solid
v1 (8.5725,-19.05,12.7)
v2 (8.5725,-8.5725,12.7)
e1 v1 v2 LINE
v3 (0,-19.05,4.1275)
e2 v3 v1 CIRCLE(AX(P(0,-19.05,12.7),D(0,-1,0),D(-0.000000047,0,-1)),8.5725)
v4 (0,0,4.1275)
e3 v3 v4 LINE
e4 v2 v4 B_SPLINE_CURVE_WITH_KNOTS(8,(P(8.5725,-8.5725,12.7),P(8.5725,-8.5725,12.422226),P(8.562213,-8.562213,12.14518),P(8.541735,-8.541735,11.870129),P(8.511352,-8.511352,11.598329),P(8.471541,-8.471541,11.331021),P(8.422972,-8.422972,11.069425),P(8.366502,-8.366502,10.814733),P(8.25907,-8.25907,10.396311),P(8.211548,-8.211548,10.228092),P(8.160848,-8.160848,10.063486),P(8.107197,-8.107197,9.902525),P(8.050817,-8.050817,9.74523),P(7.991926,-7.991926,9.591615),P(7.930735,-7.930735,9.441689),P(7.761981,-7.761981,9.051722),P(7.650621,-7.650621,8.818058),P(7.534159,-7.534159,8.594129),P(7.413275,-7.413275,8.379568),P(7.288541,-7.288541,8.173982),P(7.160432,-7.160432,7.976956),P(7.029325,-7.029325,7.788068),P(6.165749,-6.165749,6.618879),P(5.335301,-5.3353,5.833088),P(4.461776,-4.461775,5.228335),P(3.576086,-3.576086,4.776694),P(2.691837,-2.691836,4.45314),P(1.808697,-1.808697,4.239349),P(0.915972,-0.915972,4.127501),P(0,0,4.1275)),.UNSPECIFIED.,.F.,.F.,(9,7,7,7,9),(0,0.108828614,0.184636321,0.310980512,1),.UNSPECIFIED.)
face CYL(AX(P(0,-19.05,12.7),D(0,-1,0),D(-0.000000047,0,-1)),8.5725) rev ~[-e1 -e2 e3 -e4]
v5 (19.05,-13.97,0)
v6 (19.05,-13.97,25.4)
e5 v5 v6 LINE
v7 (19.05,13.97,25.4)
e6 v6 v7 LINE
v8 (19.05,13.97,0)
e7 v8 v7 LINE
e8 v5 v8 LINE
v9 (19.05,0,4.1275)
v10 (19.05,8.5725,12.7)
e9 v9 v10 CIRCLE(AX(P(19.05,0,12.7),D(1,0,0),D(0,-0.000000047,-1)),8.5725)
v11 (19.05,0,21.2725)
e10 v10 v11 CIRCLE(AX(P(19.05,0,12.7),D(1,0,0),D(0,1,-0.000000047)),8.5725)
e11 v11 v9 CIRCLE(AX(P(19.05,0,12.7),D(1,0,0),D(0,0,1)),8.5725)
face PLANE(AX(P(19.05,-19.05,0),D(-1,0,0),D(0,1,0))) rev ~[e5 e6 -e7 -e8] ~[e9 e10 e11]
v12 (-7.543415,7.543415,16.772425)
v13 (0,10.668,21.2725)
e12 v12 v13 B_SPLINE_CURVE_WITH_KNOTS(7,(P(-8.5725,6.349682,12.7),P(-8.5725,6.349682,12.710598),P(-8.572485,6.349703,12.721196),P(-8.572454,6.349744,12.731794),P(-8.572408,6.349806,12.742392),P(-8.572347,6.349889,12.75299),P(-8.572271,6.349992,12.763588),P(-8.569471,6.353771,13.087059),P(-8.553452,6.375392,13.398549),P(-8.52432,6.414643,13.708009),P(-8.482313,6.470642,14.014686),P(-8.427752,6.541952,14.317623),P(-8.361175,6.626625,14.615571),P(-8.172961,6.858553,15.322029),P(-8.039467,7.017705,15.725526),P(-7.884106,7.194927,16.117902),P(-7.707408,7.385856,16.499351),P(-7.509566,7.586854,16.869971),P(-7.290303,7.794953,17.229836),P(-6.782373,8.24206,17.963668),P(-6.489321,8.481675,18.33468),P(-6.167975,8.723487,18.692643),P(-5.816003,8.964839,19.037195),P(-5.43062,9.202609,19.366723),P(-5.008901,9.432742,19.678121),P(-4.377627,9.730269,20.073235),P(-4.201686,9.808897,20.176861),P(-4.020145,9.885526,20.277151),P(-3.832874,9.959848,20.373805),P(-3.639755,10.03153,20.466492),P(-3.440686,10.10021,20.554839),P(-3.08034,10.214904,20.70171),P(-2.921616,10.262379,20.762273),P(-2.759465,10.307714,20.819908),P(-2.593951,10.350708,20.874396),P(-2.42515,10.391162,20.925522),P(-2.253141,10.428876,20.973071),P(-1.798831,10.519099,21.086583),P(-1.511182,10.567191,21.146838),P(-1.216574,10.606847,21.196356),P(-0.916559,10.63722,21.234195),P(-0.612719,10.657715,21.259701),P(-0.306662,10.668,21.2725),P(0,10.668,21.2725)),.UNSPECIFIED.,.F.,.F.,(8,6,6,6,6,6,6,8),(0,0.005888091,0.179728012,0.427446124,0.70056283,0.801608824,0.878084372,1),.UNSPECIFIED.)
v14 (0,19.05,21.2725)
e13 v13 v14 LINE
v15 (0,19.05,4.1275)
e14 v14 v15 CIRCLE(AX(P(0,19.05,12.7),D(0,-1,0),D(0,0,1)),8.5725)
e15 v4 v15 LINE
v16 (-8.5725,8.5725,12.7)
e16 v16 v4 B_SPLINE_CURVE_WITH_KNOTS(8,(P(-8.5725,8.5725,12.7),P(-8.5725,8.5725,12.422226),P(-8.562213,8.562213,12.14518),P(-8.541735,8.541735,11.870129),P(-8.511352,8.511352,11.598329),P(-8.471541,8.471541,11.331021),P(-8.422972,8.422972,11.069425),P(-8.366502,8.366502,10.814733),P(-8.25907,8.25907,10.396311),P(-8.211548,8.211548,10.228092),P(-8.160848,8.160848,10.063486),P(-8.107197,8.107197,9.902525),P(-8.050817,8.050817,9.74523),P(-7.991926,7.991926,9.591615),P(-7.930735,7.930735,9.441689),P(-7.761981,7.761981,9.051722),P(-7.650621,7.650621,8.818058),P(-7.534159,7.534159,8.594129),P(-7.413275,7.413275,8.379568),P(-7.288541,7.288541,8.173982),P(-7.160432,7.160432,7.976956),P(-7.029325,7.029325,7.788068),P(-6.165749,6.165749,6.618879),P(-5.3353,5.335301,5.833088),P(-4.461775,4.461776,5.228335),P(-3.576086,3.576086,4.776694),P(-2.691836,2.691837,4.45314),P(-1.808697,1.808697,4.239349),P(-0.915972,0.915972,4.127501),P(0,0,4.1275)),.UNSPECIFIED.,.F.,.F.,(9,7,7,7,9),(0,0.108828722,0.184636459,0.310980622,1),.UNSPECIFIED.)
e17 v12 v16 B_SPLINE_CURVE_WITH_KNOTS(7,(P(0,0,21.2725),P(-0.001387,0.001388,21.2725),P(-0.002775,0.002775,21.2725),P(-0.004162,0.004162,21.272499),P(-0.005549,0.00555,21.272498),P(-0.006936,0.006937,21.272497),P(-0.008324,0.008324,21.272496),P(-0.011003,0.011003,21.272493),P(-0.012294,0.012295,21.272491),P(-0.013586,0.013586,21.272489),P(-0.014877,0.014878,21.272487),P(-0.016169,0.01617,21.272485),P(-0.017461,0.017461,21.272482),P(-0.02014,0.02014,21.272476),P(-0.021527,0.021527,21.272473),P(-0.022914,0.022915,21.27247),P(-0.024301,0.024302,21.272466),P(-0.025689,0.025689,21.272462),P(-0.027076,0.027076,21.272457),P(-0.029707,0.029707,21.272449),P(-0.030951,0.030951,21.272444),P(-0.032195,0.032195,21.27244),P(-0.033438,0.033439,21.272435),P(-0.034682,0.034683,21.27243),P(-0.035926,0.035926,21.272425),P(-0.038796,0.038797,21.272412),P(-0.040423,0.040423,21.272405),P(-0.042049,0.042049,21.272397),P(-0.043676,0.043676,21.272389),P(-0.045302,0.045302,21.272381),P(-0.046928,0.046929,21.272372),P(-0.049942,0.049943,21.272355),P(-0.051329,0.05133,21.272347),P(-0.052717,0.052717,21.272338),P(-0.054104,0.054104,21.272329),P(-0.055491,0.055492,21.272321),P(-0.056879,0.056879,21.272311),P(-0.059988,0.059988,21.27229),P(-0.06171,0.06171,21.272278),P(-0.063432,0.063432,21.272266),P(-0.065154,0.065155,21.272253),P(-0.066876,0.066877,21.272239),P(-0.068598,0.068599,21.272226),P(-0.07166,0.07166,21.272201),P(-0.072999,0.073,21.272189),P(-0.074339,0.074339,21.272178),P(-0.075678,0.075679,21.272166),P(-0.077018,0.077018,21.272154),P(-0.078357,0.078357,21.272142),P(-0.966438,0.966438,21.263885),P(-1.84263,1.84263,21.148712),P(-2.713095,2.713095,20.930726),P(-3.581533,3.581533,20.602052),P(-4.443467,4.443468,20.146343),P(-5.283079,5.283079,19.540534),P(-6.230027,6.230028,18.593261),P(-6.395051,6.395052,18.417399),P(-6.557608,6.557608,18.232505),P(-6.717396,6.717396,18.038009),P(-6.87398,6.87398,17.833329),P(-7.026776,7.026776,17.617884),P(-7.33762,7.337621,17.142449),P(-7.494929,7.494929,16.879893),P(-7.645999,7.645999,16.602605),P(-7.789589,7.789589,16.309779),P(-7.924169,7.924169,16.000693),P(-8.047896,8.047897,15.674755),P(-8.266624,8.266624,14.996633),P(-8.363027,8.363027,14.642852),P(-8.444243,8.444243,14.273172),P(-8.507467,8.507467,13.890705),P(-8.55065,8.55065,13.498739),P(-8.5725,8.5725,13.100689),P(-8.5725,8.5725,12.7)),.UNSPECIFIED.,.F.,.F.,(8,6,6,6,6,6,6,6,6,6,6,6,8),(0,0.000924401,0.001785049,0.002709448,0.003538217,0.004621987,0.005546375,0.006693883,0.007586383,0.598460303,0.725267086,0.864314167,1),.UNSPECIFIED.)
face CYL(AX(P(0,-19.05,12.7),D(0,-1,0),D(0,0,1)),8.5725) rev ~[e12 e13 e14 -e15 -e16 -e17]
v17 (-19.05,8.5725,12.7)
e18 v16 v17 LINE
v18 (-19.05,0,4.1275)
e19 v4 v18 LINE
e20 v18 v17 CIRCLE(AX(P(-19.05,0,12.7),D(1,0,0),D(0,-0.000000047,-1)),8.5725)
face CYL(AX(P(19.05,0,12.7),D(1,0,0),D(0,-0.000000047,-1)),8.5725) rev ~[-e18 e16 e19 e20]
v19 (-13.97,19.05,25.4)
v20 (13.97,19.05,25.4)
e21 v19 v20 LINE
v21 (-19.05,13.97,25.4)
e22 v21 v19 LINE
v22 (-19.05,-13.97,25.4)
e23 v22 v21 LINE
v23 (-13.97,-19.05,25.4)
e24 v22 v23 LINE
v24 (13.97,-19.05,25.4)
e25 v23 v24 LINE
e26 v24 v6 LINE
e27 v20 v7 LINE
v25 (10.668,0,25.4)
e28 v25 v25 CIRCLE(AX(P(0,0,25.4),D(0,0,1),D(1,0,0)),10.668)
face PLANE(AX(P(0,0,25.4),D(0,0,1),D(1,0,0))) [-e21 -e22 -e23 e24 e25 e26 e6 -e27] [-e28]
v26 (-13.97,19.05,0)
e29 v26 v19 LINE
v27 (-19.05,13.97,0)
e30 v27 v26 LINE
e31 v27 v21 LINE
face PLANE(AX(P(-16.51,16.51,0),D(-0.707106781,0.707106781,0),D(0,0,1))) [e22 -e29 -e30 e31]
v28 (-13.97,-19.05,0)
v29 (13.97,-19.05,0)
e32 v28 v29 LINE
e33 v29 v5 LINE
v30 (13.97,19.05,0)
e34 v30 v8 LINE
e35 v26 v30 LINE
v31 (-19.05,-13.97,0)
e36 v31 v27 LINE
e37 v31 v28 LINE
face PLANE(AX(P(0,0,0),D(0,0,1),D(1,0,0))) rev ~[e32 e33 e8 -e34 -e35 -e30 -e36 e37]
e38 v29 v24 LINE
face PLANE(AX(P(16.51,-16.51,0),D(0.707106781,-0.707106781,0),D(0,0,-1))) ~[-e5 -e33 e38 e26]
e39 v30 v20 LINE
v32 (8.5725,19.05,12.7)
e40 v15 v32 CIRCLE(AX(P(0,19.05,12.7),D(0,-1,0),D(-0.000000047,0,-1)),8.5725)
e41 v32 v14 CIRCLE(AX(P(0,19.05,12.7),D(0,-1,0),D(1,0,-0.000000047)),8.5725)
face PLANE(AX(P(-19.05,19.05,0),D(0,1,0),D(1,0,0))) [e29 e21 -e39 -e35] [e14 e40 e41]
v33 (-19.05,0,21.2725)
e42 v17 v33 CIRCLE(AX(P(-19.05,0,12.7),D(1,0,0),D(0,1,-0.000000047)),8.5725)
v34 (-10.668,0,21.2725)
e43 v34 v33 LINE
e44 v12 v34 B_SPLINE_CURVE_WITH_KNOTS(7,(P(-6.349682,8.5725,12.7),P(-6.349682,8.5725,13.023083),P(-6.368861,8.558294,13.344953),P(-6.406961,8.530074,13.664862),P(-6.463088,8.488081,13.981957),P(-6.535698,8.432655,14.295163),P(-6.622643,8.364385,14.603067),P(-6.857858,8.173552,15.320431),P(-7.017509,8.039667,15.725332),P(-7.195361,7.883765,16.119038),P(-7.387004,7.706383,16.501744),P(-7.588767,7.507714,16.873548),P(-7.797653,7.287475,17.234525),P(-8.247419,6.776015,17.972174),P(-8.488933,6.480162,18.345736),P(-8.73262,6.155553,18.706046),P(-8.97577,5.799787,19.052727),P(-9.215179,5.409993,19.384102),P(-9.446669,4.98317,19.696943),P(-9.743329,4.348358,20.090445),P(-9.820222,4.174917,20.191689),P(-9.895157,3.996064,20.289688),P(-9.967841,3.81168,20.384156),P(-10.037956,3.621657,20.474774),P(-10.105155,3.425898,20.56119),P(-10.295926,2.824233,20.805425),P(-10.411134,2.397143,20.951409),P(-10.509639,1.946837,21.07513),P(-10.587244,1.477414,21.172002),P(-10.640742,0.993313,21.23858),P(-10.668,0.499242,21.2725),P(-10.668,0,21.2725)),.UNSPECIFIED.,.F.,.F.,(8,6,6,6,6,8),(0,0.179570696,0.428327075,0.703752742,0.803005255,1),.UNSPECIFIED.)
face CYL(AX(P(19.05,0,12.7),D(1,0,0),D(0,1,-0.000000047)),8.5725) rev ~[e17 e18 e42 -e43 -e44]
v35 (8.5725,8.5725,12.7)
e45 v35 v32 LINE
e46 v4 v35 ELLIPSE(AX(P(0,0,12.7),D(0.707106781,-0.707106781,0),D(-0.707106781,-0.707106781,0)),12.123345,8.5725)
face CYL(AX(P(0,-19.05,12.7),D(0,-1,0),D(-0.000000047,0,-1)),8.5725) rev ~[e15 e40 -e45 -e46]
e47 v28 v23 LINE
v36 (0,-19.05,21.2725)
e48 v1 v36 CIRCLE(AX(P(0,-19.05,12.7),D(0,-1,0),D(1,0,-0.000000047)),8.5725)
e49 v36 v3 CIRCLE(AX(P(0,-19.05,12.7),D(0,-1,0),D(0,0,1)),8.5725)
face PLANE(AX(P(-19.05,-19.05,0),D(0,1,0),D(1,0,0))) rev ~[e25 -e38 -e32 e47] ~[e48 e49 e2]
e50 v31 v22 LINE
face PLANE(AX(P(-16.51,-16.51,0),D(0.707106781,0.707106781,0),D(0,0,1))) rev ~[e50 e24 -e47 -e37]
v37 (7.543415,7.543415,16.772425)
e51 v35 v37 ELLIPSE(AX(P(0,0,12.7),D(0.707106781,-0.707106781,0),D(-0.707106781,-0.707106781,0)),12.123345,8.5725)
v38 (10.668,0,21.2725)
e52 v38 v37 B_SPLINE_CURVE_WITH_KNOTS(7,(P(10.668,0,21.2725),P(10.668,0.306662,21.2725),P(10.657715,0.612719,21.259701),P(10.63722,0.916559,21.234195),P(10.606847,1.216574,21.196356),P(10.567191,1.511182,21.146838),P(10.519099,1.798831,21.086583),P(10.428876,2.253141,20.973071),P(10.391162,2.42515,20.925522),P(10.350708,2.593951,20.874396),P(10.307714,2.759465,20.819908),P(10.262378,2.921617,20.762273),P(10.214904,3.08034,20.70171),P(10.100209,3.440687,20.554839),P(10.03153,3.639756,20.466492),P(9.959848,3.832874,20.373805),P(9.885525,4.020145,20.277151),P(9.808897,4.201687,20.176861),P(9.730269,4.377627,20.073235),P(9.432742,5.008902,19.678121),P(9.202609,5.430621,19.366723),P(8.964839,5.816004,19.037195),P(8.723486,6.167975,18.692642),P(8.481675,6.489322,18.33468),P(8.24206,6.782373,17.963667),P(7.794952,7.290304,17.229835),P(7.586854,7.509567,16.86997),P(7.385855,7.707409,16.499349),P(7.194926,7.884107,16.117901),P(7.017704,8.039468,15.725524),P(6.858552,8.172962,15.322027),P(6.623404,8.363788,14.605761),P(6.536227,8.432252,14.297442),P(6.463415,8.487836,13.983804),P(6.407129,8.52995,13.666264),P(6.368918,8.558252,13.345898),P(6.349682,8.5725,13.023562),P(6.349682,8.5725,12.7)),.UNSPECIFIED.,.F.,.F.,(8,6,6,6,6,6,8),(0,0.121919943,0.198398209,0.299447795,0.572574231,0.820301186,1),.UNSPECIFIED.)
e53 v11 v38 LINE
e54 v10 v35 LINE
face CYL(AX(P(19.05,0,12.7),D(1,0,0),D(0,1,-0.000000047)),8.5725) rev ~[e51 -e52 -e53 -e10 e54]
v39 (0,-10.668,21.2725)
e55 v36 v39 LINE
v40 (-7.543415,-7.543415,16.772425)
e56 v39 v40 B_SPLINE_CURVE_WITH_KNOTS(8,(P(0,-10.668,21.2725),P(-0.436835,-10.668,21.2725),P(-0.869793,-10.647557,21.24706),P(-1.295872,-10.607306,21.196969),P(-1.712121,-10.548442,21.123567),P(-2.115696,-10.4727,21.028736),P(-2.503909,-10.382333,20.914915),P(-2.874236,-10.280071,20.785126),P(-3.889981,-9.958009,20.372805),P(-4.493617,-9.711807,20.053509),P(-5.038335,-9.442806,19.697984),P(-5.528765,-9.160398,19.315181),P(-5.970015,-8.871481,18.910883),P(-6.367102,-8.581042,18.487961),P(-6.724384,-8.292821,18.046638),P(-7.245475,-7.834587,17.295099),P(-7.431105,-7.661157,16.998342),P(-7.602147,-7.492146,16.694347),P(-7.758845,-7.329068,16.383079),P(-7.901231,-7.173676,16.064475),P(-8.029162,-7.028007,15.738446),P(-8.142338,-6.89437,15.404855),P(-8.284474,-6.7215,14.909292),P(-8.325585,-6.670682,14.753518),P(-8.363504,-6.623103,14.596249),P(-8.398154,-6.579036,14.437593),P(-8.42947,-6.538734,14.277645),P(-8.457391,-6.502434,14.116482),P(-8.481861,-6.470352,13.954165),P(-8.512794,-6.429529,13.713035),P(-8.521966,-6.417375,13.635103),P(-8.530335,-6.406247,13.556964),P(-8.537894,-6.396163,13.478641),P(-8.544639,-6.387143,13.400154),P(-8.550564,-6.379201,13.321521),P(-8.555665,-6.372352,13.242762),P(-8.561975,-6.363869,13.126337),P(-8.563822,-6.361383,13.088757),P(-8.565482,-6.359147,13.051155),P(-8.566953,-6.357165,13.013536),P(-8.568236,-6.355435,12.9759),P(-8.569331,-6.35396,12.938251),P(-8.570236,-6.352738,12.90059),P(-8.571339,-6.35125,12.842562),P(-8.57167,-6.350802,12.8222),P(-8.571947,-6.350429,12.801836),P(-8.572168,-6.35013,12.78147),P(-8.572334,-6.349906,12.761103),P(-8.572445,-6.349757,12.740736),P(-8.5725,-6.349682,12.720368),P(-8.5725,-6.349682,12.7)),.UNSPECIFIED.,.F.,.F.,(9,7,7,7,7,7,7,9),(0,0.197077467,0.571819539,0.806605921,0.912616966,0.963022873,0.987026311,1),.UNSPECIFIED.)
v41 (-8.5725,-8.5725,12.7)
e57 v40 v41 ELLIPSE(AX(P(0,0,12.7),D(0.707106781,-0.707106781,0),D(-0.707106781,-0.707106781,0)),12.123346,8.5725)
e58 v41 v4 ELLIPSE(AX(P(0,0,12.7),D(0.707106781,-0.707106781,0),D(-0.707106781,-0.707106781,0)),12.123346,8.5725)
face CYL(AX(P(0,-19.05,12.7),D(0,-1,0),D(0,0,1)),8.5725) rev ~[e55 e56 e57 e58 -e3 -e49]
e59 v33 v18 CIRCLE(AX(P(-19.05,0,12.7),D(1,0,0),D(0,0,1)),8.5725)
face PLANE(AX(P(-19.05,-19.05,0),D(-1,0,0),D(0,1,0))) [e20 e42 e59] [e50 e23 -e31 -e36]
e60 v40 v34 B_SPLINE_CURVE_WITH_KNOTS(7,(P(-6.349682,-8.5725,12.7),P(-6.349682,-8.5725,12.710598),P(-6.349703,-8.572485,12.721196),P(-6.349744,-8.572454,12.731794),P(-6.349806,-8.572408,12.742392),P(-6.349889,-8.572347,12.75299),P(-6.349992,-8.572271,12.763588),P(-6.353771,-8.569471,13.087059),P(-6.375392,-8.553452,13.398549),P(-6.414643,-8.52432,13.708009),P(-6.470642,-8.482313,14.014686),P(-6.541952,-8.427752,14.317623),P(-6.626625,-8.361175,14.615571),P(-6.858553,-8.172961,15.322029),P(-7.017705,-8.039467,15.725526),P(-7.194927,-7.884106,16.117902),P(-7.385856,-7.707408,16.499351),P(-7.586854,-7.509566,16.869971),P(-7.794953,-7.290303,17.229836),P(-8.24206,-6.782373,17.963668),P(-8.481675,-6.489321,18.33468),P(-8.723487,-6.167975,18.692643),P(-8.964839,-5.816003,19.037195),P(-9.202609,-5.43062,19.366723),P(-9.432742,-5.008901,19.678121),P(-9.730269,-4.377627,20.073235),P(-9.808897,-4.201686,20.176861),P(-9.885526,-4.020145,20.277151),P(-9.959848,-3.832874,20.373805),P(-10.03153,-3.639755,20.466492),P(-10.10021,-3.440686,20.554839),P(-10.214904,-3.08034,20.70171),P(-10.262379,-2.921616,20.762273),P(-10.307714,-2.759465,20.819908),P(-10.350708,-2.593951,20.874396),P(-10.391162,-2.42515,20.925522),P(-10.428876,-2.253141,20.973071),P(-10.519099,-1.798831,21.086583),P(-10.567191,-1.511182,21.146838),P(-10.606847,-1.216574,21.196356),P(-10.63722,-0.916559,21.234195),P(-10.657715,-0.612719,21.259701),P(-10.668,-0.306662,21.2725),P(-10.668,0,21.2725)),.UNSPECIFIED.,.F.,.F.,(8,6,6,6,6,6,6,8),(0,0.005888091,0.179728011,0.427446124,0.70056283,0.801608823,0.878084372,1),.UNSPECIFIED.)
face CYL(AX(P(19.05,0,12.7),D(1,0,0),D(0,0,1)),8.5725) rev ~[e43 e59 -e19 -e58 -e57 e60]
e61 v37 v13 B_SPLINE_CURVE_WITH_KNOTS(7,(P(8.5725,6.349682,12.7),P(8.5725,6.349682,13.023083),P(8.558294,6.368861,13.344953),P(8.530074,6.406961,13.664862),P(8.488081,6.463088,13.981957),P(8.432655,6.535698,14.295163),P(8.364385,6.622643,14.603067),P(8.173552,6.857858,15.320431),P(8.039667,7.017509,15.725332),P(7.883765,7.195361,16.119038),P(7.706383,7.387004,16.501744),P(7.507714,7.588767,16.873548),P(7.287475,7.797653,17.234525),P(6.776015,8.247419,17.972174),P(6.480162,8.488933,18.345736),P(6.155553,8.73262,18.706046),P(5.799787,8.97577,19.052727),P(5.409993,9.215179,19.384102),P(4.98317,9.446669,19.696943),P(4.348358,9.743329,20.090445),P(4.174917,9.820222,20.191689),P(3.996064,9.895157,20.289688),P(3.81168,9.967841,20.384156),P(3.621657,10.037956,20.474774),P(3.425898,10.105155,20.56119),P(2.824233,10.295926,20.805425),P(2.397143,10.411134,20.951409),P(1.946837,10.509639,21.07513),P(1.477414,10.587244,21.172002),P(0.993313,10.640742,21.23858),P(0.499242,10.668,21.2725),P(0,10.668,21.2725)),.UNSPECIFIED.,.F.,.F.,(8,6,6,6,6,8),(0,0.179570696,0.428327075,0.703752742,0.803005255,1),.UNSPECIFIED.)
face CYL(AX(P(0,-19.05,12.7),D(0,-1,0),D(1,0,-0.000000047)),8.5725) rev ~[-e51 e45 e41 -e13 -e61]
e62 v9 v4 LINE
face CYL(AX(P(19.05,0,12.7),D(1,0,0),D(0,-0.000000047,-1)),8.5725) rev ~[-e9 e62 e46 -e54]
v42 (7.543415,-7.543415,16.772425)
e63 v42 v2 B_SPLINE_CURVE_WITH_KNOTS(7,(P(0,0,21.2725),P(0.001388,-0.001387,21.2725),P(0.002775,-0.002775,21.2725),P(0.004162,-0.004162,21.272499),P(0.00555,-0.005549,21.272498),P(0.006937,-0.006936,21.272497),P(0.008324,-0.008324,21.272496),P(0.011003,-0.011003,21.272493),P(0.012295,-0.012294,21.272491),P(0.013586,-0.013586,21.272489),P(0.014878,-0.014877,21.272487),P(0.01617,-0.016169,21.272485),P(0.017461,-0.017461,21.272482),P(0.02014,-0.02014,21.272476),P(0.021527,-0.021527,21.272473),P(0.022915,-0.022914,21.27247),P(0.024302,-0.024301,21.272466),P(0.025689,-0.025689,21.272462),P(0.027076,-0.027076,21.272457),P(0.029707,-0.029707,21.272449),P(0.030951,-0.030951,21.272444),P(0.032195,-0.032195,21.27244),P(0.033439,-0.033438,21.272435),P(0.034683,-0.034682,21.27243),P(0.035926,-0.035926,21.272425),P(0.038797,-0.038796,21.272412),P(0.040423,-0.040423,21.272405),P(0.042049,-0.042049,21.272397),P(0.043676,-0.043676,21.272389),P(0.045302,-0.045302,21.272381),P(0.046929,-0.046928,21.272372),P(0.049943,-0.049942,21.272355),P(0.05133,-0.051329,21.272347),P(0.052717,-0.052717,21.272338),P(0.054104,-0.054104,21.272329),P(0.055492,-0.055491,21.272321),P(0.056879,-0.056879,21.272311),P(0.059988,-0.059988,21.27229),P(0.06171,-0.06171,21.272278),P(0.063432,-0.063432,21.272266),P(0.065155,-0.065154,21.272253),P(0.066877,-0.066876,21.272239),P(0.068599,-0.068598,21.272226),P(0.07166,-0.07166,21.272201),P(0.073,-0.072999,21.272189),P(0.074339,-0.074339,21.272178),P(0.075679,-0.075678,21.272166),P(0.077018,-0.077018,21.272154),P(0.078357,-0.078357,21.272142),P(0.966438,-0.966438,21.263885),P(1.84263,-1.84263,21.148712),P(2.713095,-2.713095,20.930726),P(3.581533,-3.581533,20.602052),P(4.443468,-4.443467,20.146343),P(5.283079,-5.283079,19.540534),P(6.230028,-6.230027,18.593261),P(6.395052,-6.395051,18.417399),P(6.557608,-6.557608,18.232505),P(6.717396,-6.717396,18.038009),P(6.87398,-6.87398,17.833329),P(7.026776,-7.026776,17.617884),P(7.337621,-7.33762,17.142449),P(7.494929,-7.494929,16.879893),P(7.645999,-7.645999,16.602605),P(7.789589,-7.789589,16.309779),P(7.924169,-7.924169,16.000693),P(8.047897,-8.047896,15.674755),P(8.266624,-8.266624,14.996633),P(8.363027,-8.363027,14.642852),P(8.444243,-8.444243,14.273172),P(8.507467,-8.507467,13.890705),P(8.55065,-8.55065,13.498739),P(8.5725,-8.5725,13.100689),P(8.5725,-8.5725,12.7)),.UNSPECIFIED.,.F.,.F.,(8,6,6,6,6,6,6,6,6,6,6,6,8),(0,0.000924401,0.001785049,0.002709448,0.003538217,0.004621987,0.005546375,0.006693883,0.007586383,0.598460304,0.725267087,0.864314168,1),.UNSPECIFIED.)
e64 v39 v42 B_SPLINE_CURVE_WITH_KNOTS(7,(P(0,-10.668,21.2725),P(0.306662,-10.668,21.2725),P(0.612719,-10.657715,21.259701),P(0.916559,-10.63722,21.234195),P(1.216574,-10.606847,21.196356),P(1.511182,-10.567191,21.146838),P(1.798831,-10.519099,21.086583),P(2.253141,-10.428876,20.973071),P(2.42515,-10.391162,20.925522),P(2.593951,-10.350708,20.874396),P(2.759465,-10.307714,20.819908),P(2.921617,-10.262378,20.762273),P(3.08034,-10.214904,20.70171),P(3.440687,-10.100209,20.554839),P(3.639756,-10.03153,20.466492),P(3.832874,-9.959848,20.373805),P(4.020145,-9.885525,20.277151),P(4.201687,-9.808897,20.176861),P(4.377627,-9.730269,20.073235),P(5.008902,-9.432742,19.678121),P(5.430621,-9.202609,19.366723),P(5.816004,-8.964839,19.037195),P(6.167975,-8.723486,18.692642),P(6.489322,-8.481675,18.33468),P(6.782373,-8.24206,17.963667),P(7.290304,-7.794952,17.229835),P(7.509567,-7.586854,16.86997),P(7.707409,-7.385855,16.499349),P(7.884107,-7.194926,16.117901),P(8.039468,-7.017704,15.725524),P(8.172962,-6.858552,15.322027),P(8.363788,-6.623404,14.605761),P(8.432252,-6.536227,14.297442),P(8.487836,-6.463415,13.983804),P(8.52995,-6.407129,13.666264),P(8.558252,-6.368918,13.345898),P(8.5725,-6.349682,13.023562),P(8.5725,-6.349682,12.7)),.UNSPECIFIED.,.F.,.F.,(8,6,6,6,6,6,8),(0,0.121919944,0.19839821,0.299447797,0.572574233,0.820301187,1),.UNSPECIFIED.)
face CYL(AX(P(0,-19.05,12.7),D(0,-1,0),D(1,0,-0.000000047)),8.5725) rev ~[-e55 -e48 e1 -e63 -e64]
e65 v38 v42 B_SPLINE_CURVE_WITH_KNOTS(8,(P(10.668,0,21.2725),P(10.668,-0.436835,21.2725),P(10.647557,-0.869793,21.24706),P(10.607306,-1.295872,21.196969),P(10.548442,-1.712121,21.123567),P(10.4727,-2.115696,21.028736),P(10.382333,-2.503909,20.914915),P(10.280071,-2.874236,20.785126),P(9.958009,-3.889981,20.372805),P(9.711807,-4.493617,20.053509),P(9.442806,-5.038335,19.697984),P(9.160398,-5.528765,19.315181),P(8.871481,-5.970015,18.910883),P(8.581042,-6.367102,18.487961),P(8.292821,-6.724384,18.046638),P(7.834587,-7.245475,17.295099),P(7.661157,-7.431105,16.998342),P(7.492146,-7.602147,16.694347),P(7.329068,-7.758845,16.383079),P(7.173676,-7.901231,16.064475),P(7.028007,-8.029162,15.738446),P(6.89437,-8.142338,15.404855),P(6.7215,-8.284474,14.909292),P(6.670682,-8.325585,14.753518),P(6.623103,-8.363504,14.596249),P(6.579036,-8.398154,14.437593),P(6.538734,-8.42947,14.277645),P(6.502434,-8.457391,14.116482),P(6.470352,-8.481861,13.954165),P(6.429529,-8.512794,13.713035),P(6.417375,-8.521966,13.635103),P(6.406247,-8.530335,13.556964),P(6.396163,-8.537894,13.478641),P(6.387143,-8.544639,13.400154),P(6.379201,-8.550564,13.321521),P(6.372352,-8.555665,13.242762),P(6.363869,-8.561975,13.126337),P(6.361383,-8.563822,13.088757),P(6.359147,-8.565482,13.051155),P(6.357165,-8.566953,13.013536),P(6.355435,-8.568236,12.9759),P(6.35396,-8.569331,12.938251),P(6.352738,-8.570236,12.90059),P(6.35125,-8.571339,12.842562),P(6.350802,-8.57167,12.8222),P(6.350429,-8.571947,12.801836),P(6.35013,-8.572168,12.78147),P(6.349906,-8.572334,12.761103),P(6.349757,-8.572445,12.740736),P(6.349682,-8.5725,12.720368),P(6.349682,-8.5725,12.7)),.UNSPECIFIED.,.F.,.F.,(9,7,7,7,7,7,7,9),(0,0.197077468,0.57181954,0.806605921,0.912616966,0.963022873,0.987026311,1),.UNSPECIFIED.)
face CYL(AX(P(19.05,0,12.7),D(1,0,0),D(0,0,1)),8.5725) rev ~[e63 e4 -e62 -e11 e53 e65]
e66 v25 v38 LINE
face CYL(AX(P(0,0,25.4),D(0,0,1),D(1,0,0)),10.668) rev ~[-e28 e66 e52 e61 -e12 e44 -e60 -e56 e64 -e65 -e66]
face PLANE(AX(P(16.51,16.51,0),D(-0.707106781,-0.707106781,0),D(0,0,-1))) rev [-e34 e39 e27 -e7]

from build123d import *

# Parameters (mm, degrees)
F0_W     = 38.1
F0_H     = 38.1
F1_DEPTH = 25.4
F4_DEPTH = 76.2
F6_DEPTH = 76.2
F2_R     = 10.668
F7_DEPTH = 12.7
F8_SIZE  = 5.08


with BuildPart() as f1:
    # F0 (on Top) → F1 (new body)
    with BuildSketch(Plane.XY):
        Rectangle(F0_W, F0_H)
    extrude(amount=F1_DEPTH)

    # F3 (on face) → F4 (cut)
    with BuildSketch(Plane.XZ.offset(19.05)):
        with BuildLine():
            ThreePointArc((0, 21.2725), (-8.5725, 12.7), (0, 4.1275))
            Line((0, 4.1275), (0, 12.7))
            Line((0, 12.7), (0, 21.2725))
        make_face()
        with BuildLine():
            Line((0, 12.7), (0, 4.1275))
            ThreePointArc((0, 4.1275), (6.061673, 6.638327), (8.5725, 12.7))
            ThreePointArc((8.5725, 12.7), (6.061673, 18.761673), (0, 21.2725))
            Line((0, 21.2725), (0, 12.7))
        make_face()
    extrude(amount=-F4_DEPTH, mode=Mode.SUBTRACT)

    # F5 (on face) → F6 (cut)
    with BuildSketch(Plane.YZ.offset(19.05)):
        with BuildLine():
            ThreePointArc((0, 21.2725), (-8.5725, 12.7), (0, 4.1275))
            Line((0, 4.1275), (0, 12.7))
            Line((0, 12.7), (0, 21.2725))
        make_face()
        with BuildLine():
            Line((0, 12.7), (0, 4.1275))
            ThreePointArc((0, 4.1275), (6.061673, 6.638327), (8.5725, 12.7))
            ThreePointArc((8.5725, 12.7), (6.061673, 18.761673), (0, 21.2725))
            Line((0, 21.2725), (0, 12.7))
        make_face()
    extrude(amount=-F6_DEPTH, mode=Mode.SUBTRACT)

    # F2 (on face) → F7 (cut)
    with BuildSketch(Plane.XY.offset(25.4)):
        Circle(F2_R)
    extrude(amount=-F7_DEPTH, mode=Mode.SUBTRACT)

    # F8
    f8_edges = [f1.edges().sort_by_distance(p)[0] for p in [
        (-19.05, 19.05, 12.7),
        (19.05, 19.05, 12.7),
        (19.05, -19.05, 12.7),
        (-19.05, -19.05, 12.7),
    ]]
    chamfer(f8_edges, length=F8_SIZE)


solid = f1.part
